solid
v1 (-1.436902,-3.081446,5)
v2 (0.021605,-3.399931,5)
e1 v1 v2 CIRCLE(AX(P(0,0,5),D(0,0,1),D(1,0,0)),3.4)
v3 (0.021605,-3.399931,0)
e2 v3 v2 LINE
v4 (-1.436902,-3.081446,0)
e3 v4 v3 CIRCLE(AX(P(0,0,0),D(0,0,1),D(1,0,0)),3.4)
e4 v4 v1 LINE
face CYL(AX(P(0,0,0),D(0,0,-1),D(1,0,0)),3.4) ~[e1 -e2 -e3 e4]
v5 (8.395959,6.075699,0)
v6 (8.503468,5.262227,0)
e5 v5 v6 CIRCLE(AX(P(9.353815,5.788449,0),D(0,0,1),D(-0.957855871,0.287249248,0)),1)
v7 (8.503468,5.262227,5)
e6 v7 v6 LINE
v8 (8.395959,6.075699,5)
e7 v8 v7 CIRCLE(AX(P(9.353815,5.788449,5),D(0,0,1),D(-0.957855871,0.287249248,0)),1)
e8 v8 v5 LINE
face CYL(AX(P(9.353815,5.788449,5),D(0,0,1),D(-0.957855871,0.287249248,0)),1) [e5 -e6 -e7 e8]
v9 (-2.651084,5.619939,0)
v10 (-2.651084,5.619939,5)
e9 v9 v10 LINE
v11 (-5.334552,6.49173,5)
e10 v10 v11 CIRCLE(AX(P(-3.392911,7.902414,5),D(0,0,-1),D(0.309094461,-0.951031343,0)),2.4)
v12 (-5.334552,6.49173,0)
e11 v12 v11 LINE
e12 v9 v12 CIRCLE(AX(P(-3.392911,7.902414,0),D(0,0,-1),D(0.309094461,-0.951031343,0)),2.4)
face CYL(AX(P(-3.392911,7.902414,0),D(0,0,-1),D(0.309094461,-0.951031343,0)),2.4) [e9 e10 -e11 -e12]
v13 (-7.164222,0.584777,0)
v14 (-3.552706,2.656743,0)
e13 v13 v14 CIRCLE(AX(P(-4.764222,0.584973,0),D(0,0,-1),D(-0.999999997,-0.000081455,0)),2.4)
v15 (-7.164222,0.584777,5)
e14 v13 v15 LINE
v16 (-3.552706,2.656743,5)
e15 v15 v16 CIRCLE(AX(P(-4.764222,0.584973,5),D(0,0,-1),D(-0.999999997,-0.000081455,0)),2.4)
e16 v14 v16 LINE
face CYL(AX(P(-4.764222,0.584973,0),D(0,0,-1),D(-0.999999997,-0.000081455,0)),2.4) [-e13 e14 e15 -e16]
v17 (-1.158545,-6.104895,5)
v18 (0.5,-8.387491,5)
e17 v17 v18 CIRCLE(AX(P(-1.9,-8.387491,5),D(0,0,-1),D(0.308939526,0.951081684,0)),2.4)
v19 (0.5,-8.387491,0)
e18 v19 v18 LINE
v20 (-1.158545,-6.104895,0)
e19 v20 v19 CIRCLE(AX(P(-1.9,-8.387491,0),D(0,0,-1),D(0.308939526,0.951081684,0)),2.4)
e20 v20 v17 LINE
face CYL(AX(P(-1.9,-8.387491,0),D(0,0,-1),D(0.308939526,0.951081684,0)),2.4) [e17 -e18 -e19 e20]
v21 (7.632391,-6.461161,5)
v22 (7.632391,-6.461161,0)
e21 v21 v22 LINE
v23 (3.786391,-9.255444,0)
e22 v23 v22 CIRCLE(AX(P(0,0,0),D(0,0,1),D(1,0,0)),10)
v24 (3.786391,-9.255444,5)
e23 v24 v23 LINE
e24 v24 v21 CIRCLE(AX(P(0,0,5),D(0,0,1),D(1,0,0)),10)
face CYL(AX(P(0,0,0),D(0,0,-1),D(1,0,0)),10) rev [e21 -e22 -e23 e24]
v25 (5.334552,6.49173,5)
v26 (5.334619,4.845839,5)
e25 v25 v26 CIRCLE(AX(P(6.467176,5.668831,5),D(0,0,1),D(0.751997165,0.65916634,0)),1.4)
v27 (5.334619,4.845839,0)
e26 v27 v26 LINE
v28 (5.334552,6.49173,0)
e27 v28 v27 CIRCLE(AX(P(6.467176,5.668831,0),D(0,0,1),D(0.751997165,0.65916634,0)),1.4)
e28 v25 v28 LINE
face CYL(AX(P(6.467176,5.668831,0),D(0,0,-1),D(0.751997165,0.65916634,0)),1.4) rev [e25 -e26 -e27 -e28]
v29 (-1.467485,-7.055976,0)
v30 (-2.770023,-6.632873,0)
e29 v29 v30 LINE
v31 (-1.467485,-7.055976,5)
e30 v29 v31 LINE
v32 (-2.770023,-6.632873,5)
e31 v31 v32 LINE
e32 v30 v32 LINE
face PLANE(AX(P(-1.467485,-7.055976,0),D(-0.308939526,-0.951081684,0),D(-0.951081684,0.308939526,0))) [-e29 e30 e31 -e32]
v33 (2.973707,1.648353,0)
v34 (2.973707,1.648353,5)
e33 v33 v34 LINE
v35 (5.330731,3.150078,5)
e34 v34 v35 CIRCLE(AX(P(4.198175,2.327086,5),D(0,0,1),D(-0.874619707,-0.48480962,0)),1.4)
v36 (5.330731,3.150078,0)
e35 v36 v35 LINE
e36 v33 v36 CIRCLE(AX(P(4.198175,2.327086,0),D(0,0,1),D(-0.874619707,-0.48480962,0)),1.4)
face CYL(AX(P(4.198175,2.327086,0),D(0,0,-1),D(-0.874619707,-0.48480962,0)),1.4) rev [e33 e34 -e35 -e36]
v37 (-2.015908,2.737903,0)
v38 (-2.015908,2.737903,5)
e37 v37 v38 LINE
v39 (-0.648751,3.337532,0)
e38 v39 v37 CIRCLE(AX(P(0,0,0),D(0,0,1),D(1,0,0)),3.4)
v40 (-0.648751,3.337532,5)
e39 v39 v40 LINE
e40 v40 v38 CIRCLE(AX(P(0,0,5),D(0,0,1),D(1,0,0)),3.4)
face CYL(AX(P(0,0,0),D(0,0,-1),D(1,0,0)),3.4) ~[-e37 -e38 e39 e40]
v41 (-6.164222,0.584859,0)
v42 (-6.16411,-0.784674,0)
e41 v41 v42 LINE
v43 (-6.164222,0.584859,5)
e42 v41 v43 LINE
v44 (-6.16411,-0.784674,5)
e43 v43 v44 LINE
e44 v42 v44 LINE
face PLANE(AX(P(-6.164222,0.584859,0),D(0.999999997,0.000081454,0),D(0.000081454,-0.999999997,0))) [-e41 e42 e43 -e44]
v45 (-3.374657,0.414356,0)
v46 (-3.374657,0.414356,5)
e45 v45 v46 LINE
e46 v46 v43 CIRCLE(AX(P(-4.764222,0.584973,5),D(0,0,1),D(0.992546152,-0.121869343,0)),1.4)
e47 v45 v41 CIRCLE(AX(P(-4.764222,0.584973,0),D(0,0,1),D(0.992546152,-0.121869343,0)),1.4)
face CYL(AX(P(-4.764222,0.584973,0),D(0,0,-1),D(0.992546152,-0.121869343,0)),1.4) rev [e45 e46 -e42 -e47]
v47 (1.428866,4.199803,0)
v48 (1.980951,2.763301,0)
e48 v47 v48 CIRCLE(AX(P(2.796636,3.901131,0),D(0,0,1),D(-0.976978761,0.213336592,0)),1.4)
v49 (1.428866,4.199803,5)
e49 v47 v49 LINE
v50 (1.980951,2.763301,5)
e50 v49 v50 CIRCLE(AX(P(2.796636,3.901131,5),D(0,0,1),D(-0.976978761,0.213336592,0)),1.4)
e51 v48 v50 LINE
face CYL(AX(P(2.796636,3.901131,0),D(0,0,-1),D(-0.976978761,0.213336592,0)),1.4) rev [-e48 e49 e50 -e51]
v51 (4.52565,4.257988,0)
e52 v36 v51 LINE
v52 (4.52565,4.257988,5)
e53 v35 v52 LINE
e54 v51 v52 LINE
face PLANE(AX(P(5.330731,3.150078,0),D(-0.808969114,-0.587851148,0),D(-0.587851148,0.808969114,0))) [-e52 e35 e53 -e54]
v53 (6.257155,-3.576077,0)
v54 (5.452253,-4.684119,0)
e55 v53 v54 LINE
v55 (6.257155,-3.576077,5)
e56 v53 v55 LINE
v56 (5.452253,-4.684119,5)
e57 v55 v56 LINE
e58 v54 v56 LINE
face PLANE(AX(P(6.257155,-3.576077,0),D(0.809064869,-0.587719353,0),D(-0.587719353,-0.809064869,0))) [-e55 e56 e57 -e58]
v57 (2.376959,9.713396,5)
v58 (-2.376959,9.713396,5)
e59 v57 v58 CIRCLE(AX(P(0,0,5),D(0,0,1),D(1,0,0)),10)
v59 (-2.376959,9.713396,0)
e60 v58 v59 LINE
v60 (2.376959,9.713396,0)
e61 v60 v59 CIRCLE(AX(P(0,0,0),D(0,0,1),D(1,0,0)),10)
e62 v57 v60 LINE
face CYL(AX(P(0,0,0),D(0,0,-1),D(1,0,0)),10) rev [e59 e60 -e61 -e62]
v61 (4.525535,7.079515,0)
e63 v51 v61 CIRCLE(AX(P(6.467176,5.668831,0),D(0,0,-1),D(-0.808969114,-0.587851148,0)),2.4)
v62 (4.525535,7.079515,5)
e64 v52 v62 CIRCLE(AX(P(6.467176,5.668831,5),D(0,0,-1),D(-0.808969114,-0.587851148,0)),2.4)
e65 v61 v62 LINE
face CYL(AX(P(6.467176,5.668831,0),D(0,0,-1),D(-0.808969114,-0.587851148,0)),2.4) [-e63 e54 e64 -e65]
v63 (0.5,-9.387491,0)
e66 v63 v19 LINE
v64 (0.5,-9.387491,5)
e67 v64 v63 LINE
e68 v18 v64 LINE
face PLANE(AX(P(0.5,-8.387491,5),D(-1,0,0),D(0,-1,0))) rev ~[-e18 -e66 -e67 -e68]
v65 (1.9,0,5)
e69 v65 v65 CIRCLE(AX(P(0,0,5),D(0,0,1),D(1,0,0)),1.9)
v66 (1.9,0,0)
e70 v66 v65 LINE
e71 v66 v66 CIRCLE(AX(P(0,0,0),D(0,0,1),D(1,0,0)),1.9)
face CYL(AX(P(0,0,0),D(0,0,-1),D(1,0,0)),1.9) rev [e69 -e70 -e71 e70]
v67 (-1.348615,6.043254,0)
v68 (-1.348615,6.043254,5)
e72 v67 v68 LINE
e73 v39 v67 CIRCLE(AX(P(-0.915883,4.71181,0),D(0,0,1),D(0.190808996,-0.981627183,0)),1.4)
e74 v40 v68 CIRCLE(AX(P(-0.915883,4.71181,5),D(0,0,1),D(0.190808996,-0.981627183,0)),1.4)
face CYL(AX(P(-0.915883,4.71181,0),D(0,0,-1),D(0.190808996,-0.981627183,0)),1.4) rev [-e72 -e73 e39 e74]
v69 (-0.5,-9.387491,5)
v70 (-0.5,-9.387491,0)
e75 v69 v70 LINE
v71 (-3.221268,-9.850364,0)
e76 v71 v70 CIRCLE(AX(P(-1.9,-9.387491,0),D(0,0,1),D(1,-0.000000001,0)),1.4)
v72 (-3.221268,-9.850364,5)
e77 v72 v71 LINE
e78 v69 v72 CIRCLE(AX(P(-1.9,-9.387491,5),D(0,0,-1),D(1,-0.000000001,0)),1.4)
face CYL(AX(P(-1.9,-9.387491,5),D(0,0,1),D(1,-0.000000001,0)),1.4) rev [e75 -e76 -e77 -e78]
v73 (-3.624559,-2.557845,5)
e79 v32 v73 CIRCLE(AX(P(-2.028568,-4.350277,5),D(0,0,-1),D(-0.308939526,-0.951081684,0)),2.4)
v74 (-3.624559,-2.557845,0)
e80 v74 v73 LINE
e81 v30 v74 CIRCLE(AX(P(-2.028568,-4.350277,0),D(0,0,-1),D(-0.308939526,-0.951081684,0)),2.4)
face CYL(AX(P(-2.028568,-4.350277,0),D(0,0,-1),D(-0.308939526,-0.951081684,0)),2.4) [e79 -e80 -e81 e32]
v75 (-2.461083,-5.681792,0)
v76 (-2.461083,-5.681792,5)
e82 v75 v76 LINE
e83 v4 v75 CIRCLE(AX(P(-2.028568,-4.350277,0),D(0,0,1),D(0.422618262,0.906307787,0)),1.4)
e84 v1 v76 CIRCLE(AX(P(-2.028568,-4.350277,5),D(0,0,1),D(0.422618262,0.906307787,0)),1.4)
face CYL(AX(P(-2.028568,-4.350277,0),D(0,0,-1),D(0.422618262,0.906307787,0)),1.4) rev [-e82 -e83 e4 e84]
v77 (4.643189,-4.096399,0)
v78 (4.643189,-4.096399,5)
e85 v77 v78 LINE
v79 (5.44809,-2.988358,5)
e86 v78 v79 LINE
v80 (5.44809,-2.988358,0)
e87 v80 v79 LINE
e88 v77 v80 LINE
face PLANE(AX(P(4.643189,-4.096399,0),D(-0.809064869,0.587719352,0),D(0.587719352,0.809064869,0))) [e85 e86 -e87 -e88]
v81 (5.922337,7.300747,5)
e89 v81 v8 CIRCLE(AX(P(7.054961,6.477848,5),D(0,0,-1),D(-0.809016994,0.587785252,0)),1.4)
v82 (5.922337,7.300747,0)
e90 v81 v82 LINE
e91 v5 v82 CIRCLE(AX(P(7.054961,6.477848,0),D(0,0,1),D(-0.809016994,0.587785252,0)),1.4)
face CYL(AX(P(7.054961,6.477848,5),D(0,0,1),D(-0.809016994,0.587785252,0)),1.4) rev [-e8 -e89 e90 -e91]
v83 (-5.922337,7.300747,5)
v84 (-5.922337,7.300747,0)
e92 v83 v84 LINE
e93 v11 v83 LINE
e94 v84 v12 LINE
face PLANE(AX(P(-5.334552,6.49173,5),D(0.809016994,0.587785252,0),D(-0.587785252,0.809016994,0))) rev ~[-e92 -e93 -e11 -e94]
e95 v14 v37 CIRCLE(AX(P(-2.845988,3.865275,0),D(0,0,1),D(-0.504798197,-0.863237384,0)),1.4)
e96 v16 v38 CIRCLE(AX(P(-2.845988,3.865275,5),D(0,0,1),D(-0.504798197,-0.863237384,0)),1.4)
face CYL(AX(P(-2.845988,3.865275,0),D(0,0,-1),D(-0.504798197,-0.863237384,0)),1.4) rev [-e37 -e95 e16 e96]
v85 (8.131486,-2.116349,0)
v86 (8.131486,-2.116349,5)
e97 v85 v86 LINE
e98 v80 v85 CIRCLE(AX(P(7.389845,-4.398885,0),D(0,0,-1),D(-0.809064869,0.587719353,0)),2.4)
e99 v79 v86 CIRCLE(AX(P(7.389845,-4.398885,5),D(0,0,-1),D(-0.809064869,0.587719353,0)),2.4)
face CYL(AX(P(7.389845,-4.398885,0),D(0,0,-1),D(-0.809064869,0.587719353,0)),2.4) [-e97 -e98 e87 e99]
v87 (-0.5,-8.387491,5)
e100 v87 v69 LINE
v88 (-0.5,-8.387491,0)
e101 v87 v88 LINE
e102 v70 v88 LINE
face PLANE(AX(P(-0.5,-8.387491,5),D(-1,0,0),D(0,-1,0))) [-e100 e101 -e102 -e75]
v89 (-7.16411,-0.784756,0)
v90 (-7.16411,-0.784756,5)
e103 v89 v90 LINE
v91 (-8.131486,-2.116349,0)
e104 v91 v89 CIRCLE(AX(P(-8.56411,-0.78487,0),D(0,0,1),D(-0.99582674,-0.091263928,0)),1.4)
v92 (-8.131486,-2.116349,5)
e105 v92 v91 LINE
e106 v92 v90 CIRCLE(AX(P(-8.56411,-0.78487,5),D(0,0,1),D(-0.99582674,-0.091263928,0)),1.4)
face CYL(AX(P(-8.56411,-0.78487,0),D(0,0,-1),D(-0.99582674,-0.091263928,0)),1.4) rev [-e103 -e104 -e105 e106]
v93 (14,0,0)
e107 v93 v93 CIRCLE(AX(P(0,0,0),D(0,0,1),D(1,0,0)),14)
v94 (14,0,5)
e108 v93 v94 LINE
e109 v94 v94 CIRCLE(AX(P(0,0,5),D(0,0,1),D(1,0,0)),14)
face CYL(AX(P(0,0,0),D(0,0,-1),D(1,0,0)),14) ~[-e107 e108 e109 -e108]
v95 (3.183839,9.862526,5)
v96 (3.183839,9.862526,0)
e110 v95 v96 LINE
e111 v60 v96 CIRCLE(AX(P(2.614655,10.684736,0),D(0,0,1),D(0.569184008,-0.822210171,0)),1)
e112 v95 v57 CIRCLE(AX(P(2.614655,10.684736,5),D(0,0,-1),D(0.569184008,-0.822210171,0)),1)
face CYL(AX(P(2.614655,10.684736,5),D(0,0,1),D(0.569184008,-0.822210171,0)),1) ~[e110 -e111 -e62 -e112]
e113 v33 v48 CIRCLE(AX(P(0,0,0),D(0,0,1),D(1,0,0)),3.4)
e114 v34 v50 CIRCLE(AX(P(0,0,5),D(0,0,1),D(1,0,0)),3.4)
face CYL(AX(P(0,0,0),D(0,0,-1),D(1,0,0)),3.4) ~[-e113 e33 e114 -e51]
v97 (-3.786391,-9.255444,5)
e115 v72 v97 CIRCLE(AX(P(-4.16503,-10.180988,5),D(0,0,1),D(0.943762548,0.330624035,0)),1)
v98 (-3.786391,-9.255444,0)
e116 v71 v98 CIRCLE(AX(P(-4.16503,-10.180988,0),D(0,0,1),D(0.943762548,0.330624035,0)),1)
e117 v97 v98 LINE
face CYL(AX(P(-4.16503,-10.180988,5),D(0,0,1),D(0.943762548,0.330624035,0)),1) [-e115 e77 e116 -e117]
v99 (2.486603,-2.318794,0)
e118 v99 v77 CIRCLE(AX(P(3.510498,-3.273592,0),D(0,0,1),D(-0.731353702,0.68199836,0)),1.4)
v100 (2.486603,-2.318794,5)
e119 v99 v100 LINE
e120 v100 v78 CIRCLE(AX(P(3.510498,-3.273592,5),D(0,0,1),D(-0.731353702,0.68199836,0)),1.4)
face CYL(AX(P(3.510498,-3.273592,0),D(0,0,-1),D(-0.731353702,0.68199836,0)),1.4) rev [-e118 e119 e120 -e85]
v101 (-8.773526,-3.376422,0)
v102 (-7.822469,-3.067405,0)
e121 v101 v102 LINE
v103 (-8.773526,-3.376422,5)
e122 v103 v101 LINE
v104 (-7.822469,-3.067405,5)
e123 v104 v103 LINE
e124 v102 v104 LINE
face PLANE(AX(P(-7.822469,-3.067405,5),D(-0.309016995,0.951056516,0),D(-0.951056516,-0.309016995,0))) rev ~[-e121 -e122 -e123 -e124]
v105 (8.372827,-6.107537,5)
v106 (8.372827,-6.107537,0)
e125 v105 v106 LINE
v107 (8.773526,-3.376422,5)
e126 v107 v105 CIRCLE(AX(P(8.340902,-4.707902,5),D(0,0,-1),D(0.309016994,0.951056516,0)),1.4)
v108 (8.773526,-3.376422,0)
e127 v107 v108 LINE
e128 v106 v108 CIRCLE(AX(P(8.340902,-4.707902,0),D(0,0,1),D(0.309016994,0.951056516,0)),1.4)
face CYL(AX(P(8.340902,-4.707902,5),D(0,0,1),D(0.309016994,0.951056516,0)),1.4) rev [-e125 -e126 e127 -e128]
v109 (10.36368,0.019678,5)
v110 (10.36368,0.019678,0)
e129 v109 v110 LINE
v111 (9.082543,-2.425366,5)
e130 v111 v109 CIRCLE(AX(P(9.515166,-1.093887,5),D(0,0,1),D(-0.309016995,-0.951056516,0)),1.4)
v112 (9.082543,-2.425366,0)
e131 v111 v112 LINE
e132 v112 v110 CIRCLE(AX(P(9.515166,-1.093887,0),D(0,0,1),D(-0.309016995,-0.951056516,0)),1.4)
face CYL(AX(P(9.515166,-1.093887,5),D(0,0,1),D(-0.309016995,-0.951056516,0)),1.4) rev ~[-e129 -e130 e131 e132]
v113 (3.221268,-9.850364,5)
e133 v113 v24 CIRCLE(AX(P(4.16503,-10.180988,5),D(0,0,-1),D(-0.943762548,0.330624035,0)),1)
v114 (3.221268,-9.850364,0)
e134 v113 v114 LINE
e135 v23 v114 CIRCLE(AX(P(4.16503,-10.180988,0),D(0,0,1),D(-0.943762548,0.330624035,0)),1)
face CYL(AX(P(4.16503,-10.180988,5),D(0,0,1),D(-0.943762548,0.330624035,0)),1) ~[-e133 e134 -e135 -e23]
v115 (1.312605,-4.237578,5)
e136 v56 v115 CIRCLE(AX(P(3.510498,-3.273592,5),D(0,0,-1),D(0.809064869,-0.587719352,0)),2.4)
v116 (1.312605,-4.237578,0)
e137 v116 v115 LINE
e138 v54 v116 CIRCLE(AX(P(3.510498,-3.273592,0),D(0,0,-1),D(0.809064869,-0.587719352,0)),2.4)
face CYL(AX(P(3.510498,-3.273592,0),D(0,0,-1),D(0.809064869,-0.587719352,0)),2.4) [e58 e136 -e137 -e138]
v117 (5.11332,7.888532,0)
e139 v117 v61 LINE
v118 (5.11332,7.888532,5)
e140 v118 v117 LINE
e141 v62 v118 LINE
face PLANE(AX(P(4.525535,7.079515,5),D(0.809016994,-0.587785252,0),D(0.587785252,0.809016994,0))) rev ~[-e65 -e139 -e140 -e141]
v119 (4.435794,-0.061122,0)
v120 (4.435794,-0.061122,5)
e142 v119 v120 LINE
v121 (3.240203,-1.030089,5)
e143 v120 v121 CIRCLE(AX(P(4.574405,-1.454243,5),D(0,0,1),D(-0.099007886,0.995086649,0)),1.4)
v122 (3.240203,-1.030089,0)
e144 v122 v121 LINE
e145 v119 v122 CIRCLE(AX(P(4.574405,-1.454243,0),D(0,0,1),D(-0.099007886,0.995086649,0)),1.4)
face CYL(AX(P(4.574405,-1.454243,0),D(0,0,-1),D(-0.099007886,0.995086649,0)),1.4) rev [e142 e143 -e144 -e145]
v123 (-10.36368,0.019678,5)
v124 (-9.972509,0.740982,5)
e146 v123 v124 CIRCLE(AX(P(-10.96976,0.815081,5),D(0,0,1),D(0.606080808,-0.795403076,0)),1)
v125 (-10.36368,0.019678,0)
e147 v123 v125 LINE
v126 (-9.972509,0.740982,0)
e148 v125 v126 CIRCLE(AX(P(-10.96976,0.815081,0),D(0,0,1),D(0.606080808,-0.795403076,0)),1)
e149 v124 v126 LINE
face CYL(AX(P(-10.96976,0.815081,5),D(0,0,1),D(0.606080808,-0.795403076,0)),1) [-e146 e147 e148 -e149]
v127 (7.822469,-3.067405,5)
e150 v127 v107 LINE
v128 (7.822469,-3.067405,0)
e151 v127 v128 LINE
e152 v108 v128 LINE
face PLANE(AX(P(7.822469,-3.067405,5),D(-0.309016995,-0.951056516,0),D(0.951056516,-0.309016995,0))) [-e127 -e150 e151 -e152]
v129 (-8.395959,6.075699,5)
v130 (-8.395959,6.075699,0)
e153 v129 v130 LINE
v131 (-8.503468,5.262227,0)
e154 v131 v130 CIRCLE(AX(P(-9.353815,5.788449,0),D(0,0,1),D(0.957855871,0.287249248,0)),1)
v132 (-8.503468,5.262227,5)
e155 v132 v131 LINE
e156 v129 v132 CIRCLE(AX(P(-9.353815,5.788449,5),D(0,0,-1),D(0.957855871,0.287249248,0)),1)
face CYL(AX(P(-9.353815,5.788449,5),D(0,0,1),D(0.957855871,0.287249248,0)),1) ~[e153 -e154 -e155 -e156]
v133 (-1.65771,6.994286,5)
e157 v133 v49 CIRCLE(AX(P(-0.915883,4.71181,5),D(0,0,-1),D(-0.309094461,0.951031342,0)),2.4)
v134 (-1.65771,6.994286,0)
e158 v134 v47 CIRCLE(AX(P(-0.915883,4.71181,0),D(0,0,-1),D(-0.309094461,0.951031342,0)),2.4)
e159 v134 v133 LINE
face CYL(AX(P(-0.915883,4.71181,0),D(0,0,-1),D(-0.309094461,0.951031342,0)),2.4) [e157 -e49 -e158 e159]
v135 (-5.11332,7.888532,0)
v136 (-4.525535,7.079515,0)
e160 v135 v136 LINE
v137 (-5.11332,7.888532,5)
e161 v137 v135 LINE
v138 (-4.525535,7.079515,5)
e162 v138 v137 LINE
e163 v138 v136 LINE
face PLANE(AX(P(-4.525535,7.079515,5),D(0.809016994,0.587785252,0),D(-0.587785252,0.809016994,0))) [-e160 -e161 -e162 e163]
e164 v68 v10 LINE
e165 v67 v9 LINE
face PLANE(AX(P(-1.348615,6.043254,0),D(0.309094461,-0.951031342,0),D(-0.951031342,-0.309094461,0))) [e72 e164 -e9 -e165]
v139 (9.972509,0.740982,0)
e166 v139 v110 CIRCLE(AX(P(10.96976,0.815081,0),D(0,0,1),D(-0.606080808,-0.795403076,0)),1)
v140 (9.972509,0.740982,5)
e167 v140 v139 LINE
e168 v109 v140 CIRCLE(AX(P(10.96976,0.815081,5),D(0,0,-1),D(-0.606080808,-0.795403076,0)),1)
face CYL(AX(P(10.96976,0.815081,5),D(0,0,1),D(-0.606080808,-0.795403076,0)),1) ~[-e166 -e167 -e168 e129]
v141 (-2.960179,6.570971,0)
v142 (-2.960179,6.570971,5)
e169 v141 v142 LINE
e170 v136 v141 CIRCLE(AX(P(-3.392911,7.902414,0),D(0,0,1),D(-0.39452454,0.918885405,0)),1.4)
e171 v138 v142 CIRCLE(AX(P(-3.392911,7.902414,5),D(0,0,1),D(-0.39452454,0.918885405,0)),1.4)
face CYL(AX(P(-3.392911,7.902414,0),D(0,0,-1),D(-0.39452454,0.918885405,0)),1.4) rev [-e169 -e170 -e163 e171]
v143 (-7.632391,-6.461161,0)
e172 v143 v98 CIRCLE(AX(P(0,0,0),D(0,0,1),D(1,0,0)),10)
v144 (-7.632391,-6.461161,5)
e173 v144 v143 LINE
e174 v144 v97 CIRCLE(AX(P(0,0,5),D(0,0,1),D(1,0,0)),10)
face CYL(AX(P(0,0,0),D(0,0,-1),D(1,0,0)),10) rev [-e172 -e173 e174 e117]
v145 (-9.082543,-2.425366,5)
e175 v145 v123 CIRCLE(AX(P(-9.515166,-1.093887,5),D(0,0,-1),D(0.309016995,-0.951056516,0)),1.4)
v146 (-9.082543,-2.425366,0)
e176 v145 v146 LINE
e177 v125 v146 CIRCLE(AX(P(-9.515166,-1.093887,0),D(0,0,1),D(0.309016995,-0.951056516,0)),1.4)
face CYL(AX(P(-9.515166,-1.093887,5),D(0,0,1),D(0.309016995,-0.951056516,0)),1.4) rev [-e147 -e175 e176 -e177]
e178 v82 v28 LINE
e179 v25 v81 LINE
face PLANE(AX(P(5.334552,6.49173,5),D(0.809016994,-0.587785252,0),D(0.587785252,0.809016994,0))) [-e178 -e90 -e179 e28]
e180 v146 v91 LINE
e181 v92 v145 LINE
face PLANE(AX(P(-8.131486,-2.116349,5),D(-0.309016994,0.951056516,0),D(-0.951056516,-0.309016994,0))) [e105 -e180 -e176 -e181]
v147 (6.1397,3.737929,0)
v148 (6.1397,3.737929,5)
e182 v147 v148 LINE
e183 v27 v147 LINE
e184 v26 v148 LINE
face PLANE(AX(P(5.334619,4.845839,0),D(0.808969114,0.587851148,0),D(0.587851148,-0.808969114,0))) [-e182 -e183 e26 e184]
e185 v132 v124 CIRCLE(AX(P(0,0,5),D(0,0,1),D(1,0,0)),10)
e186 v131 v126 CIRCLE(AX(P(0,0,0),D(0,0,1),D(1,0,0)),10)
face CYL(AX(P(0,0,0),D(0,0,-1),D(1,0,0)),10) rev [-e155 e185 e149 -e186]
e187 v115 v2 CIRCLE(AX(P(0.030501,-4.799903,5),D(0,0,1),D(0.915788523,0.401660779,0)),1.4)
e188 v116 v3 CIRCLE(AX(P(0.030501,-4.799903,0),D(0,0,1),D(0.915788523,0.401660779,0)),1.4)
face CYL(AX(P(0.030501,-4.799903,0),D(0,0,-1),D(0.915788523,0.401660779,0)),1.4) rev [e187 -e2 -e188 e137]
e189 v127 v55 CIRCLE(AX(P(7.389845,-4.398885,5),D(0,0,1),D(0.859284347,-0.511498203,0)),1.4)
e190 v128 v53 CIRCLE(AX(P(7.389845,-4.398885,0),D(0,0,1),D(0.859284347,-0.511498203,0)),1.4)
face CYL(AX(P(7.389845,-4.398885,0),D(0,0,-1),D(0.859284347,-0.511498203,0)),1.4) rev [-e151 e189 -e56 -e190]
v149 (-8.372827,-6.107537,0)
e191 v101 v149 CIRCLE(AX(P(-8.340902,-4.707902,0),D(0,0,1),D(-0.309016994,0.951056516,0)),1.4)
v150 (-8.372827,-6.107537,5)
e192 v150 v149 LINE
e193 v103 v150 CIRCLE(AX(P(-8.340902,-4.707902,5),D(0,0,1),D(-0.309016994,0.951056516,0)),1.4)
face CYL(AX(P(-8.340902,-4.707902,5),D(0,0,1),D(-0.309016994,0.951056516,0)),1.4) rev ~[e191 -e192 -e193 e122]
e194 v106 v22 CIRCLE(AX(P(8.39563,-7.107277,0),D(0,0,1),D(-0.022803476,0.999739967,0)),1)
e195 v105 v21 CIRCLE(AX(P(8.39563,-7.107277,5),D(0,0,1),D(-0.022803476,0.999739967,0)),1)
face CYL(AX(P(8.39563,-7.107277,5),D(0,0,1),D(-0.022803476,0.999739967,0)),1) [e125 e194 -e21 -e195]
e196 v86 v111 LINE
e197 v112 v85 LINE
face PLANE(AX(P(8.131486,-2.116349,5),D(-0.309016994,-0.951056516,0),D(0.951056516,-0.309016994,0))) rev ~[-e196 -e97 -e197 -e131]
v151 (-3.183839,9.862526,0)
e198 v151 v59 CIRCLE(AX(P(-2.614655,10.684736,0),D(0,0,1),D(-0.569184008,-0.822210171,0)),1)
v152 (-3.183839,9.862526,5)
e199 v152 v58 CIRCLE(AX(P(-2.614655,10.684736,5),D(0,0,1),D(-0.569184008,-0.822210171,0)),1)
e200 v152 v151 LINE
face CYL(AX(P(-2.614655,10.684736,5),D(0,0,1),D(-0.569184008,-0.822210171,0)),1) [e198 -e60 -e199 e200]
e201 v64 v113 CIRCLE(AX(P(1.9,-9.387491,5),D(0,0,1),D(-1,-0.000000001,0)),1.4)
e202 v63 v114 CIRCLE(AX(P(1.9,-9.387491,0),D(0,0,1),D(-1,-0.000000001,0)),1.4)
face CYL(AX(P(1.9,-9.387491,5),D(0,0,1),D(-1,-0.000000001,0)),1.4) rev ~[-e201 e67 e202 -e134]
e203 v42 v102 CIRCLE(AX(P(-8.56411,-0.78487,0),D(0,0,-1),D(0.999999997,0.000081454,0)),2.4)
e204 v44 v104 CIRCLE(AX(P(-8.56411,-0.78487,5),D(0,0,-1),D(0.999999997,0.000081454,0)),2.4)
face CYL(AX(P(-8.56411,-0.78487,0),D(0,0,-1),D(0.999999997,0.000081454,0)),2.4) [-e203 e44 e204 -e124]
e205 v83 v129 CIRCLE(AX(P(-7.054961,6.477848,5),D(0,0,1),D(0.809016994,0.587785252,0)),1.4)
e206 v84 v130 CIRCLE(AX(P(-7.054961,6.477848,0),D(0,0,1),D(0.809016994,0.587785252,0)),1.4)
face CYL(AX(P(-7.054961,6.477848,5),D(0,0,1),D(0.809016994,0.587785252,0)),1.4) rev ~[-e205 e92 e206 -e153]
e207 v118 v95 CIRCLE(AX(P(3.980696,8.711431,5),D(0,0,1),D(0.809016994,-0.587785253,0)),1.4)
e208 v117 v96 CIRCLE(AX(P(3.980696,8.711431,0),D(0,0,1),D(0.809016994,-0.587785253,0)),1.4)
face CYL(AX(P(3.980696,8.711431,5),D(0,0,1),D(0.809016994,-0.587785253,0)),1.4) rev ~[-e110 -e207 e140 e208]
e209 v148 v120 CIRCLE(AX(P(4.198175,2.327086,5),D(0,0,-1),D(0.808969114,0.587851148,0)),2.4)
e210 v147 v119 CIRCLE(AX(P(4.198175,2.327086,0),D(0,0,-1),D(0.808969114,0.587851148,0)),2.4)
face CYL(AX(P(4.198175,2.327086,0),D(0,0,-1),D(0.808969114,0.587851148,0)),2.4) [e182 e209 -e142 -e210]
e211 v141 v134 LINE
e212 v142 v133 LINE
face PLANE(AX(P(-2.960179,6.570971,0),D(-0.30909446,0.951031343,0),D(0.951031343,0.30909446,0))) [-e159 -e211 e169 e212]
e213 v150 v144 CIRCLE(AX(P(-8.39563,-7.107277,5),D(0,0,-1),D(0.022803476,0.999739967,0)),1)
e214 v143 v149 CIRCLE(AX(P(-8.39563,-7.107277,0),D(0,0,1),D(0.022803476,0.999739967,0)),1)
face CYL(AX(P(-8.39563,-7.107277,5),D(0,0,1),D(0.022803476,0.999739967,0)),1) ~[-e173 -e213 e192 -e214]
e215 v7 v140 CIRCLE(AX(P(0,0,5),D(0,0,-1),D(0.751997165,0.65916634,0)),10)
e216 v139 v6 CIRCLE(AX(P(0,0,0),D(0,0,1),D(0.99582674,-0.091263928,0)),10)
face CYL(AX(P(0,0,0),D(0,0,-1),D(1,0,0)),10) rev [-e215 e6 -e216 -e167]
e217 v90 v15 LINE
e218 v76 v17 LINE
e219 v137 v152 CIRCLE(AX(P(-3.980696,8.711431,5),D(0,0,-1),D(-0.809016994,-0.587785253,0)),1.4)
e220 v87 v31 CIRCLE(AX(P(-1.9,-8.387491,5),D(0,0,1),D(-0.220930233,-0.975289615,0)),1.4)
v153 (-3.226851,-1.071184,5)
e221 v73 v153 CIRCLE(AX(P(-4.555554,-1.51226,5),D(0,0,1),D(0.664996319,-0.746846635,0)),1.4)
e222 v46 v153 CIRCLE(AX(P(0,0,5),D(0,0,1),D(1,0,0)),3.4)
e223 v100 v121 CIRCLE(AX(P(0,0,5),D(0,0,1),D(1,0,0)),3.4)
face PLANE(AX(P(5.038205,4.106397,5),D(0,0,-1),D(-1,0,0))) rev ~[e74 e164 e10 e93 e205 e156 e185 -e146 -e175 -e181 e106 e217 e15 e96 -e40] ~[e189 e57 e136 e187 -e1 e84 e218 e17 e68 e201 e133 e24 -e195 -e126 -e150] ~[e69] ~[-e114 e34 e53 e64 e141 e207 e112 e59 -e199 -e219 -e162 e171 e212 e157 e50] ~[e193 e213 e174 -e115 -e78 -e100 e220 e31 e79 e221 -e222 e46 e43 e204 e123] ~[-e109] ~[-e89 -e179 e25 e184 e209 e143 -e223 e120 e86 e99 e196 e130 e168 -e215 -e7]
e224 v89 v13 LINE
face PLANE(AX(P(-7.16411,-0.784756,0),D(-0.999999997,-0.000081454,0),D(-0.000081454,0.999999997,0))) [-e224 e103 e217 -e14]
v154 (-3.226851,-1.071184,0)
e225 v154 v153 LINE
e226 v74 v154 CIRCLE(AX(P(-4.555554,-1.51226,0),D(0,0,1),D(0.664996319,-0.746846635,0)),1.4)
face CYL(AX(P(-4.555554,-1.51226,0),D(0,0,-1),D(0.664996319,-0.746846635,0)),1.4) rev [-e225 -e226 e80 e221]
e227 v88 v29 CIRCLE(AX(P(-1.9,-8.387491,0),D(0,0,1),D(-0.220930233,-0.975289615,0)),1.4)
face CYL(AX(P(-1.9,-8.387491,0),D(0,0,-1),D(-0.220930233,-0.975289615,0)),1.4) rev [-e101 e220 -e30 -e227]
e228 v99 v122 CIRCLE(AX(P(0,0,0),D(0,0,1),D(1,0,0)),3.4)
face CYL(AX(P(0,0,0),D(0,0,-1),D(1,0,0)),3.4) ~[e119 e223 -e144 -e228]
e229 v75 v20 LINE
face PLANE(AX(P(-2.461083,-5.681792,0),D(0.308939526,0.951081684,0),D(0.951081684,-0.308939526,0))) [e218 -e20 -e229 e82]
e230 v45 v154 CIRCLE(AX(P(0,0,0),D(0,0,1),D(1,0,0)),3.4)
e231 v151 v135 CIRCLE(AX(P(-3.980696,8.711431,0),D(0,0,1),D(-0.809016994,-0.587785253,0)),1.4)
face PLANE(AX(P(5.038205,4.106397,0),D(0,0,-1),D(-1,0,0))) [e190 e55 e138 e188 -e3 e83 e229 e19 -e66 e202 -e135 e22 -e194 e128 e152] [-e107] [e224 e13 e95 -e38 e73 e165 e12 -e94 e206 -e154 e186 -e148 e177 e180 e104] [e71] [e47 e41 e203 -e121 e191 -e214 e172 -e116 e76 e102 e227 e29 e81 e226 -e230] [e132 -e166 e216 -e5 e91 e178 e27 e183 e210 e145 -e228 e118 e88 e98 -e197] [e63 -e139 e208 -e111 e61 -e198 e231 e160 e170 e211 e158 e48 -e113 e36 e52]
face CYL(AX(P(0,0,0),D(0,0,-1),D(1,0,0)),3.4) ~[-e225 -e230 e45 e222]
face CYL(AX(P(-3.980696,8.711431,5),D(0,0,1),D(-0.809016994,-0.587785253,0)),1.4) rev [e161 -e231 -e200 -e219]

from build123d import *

# Parameters (mm, degrees)
SKETCH1_R             = 3.4
SKETCH1_R_2           = 1.9
BOSS_EXTRUDE1_DEPTH   = 5
SKETCH1_R_3           = 14
SKETCH1_R_4           = 10
BOSS_EXTRUDE1_2_DEPTH = 5
BOSS_EXTRUDE3_START   = -5
BOSS_EXTRUDE3_DEPTH   = 5
CUT_EXTRUDE1_DEPTH    = 21.420577857


with BuildPart() as part:
    # Sketch1 → Boss-Extrude1 (new body)
    with BuildSketch(Plane.XY):
        Circle(SKETCH1_R)
        Circle(SKETCH1_R_2, mode=Mode.SUBTRACT)
    extrude(amount=BOSS_EXTRUDE1_DEPTH)



with BuildPart() as body_2:
    # Sketch1 → Boss-Extrude1 2 (new body)
    with BuildSketch(Plane.XY):
        Circle(SKETCH1_R_3)
        Circle(SKETCH1_R_4, mode=Mode.SUBTRACT)
    extrude(amount=BOSS_EXTRUDE1_2_DEPTH)


with BuildPart() as part_1:
    add(part.part)

    add(body_2.part)  # Boss-Extrude3 merges body 2
    # Sketch3 → Boss-Extrude3 (add)
    with BuildSketch(Plane.XY.offset(5).offset(BOSS_EXTRUDE3_START)):
        with BuildLine():
            Line((-2.461082993, -5.681791735), (-1.158545138, -6.104894644))
            ThreePointArc((-1.158545138, -6.104894644), (0.041583332, -6.976727004), (0.5, -8.387490686))
            ThreePointArc((0.5, -8.387490686), (1.026221783, -9.481342425), (2.209302326, -9.752896146))
            ThreePointArc((2.209302326, -9.752896146), (0, -10), (-2.209302326, -9.752896146))
            ThreePointArc((-2.209302326, -9.752896146), (-0.55013353, -8.758786407), (-1.467484664, -7.055976328))
            Line((-1.467484664, -7.055976328), (-2.770022518, -6.632873419))
            ThreePointArc((-2.770022518, -6.632873419), (-4.377477342, -4.842845432), (-3.62455882, -2.557845453))
            ThreePointArc((-3.62455882, -2.557845453), (-3.203111756, -1.874062431), (-3.226850513, -1.071184282))
            ThreePointArc((-3.226850513, -1.071184282), (-2.53927856, -2.260987482), (-1.43690209, -3.081446476))
            ThreePointArc((-1.43690209, -3.081446476), (-3.331173148, -3.837228711), (-2.461082993, -5.681791735))
        make_face()
        with BuildLine():
            Line((-6.164221523, 0.584858813), (-6.164109969, -0.784674291))
            ThreePointArc((-6.164109969, -0.784674291), (-6.622411723, -2.195475308), (-7.822469175, -3.06740542))
            ThreePointArc((-7.822469175, -3.06740542), (-8.700172525, -3.905890853), (-8.592843468, -5.114982027))
            ThreePointArc((-8.592843468, -5.114982027), (-9.510565163, -3.090169944), (-9.958267397, -0.91263928))
            ThreePointArc((-9.958267397, -0.91263928), (-8.500101497, -2.183405771), (-7.164109966, -0.784755745))
            Line((-7.164109966, -0.784755745), (-7.16422152, 0.584777358))
            ThreePointArc((-7.16422152, 0.584777358), (-5.958534597, 2.666706812), (-3.552705858, 2.656742571))
            ThreePointArc((-3.552705858, 2.656742571), (-2.772155254, 2.467223168), (-2.015908439, 2.73790306))
            ThreePointArc((-2.015908439, 2.73790306), (-2.935007106, 1.716313866), (-3.374656916, 0.414355768))
            ThreePointArc((-3.374656916, 0.414355768), (-4.678810484, 1.982365046), (-6.164221523, 0.584858813))
        make_face()
        with BuildLine():
            Line((-1.348615423, 6.04325436), (-2.651084333, 5.619939262))
            ThreePointArc((-2.651084333, 5.619939262), (-4.134458864, 5.619848642), (-5.334551826, 6.491729879))
            ThreePointArc((-5.334551826, 6.491729879), (-6.403224112, 7.067369122), (-7.519971649, 6.591663402))
            ThreePointArc((-7.519971649, 6.591663402), (-5.877852523, 8.090169944), (-3.945245395, 9.188854051))
            ThreePointArc((-3.945245395, 9.188854051), (-4.703218103, 7.409367429), (-2.960178794, 6.570970605))
            Line((-2.960178794, 6.570970605), (-1.657709884, 6.994285702))
            ThreePointArc((-1.657709884, 6.994285702), (0.694900438, 6.490960879), (1.428865848, 4.199802661))
            ThreePointArc((1.428865848, 4.199802661), (1.489825587, 3.398890206), (1.98095058, 2.763301431))
            ThreePointArc((1.98095058, 2.763301431), (0.725344411, 3.321727786), (-0.648750584, 3.337532424))
            ThreePointArc((-0.648750584, 3.337532424), (0.439509241, 5.062397688), (-1.348615423, 6.04325436))
        make_face()
        with BuildLine():
            Line((5.330731354, 3.150077785), (4.525649744, 4.25798777))
            ThreePointArc((4.525649744, 4.25798777), (4.06717562, 5.66873278), (4.525534832, 7.079515131))
            ThreePointArc((4.525534832, 7.079515131), (4.742762387, 8.273765181), (3.945245395, 9.188854051))
            ThreePointArc((3.945245395, 9.188854051), (5.877852523, 8.090169944), (7.519971649, 6.591663402))
            ThreePointArc((7.519971649, 6.591663402), (5.593352853, 6.762646678), (5.334618858, 4.845838918))
            Line((5.334618858, 4.845838918), (6.139700468, 3.737928933))
            ThreePointArc((6.139700468, 3.737928933), (6.388006686, 1.344927632), (4.435793517, -0.06112178))
            ThreePointArc((4.435793517, -0.06112178), (3.692918104, -0.366593497), (3.240203227, -1.030088854))
            ThreePointArc((3.240203227, -1.030088854), (3.383294606, 0.336626808), (2.973707004, 1.648352709))
            ThreePointArc((2.973707004, 1.648352709), (4.950442134, 1.14636879), (5.330731354, 3.150077785))
        make_face()
        with BuildLine():
            Line((4.643188585, -4.096399222), (5.448089696, -2.988358097))
            ThreePointArc((5.448089696, -2.988358097), (6.648111636, -2.116379111), (8.131486169, -2.116348904))
            ThreePointArc((8.131486169, -2.116348904), (9.334412468, -1.953901025), (9.958267397, -0.91263928))
            ThreePointArc((9.958267397, -0.91263928), (9.510565163, -3.090169944), (8.592843468, -5.114982027))
            ThreePointArc((8.592843468, -5.114982027), (8.160100277, -3.229821928), (6.257154566, -3.576077449))
            Line((6.257154566, -3.576077449), (5.452253454, -4.684118574))
            ThreePointArc((5.452253454, -4.684118574), (3.253104814, -5.659749891), (1.312605313, -4.237577998))
            ThreePointArc((1.312605313, -4.237577998), (0.792523319, -3.625457447), (0.021605145, -3.399931355))
            ThreePointArc((0.021605145, -3.399931355), (1.365646649, -3.113680977), (2.486602586, -2.318794424))
            ThreePointArc((2.486602586, -2.318794424), (2.620032257, -4.353902812), (4.643188585, -4.096399222))
        make_face()
    extrude(amount=BOSS_EXTRUDE3_DEPTH)

    # Sketch4 → Cut-Extrude1 (cut, through all)
    with BuildSketch(Plane.XY.offset(5)):
        with BuildLine():
            Line((0.5, -8.387490686), (0.5, -9.387490686))
            ThreePointArc((0.5, -9.387490686), (1.665239053, -10.767667231), (3.221267568, -9.850364333))
            ThreePointArc((3.221267568, -9.850364333), (3.43999971, -9.49227151), (3.786391015, -9.25544397))
            ThreePointArc((3.786391015, -9.25544397), (3.008147158, -9.536826027), (2.209302326, -9.752896146))
            ThreePointArc((2.209302326, -9.752896146), (1.026221783, -9.481342425), (0.5, -8.387490686))
        make_face()
        with BuildLine():
            Line((-0.5, -8.387490686), (-0.5, -9.387490686))
            ThreePointArc((-0.5, -9.387490686), (-1.665239053, -10.767667231), (-3.221267568, -9.850364333))
            ThreePointArc((-3.221267568, -9.850364333), (-3.43999971, -9.49227151), (-3.786391015, -9.25544397))
            ThreePointArc((-3.786391015, -9.25544397), (-3.008147158, -9.536826027), (-2.209302326, -9.752896146))
            ThreePointArc((-2.209302326, -9.752896146), (-1.026221783, -9.481342425), (-0.5, -8.387490686))
        make_face()
        with BuildLine():
            Line((-7.822469175, -3.06740542), (-8.773525691, -3.376422415))
            ThreePointArc((-8.773525691, -3.376422415), (-9.726072919, -4.911128617), (-8.372826765, -6.107537491))
            ThreePointArc((-8.372826765, -6.107537491), (-7.964668303, -6.204907352), (-7.632391128, -6.461161325))
            ThreePointArc((-7.632391128, -6.461161325), (-8.140491944, -5.807959272), (-8.592843468, -5.114982027))
            ThreePointArc((-8.592843468, -5.114982027), (-8.700172525, -3.905890853), (-7.822469175, -3.06740542))
        make_face()
        with BuildLine():
            Line((-8.131486169, -2.116348904), (-9.082542685, -2.425365898))
            ThreePointArc((-9.082542685, -2.425365898), (-10.755247253, -1.743655712), (-10.363679609, 0.019677532))
            ThreePointArc((-10.363679609, 0.019677532), (-10.090705045, 0.338360929), (-9.97250947, 0.740982371))
            ThreePointArc((-9.97250947, 0.740982371), (-9.999629131, -0.086123358), (-9.958267397, -0.91263928))
            ThreePointArc((-9.958267397, -0.91263928), (-9.334412468, -1.953901025), (-8.131486169, -2.116348904))
        make_face()
        with BuildLine():
            Line((-5.334551826, 6.491729879), (-5.922337078, 7.300746873))
            ThreePointArc((-5.922337078, 7.300746873), (-7.676282694, 7.732422823), (-8.395959091, 6.075698576))
            ThreePointArc((-8.395959091, 6.075698576), (-8.36243543, 5.657427869), (-8.503468148, 5.262226664))
            ThreePointArc((-8.503468148, 5.262226664), (-8.039247865, 5.947309792), (-7.519971649, 6.591663402))
            ThreePointArc((-7.519971649, 6.591663402), (-6.403224112, 7.067369122), (-5.334551826, 6.491729879))
        make_face()
        with BuildLine():
            Line((-4.525534832, 7.079515131), (-5.113320084, 7.888532125))
            ThreePointArc((-5.113320084, 7.888532125), (-4.981869307, 9.690028737), (-3.183838679, 9.862525716))
            ThreePointArc((-3.183838679, 9.862525716), (-2.796398978, 9.701390064), (-2.37695879, 9.71339626))
            ThreePointArc((-2.37695879, 9.71339626), (-3.17196352, 9.483598865), (-3.945245395, 9.188854051))
            ThreePointArc((-3.945245395, 9.188854051), (-4.742762387, 8.273765181), (-4.525534832, 7.079515131))
        make_face()
        with BuildLine():
            Line((4.525534832, 7.079515131), (5.113320084, 7.888532125))
            ThreePointArc((5.113320084, 7.888532125), (4.981869307, 9.690028737), (3.183838679, 9.862525716))
            ThreePointArc((3.183838679, 9.862525716), (2.796398978, 9.701390064), (2.37695879, 9.71339626))
            ThreePointArc((2.37695879, 9.71339626), (3.17196352, 9.483598865), (3.945245395, 9.188854051))
            ThreePointArc((3.945245395, 9.188854051), (4.742762387, 8.273765181), (4.525534832, 7.079515131))
        make_face()
        with BuildLine():
            Line((5.334551826, 6.491729879), (5.922337078, 7.300746873))
            ThreePointArc((5.922337078, 7.300746873), (7.676282694, 7.732422823), (8.395959091, 6.075698576))
            ThreePointArc((8.395959091, 6.075698576), (8.36243543, 5.657427869), (8.503468148, 5.262226664))
            ThreePointArc((8.503468148, 5.262226664), (8.039247865, 5.947309792), (7.519971649, 6.591663402))
            ThreePointArc((7.519971649, 6.591663402), (6.403224112, 7.067369122), (5.334551826, 6.491729879))
        make_face()
        with BuildLine():
            Line((8.131486169, -2.116348904), (9.082542685, -2.425365898))
            ThreePointArc((9.082542685, -2.425365898), (10.755247253, -1.743655712), (10.363679609, 0.019677532))
            ThreePointArc((10.363679609, 0.019677532), (10.090705045, 0.338360929), (9.97250947, 0.740982371))
            ThreePointArc((9.97250947, 0.740982371), (9.999629131, -0.086123358), (9.958267397, -0.91263928))
            ThreePointArc((9.958267397, -0.91263928), (9.334412468, -1.953901025), (8.131486169, -2.116348904))
        make_face()
        with BuildLine():
            Line((7.822469175, -3.06740542), (8.773525691, -3.376422415))
            ThreePointArc((8.773525691, -3.376422415), (9.726072919, -4.911128617), (8.372826765, -6.107537491))
            ThreePointArc((8.372826765, -6.107537491), (7.964668303, -6.204907352), (7.632391128, -6.461161325))
            ThreePointArc((7.632391128, -6.461161325), (8.140491944, -5.807959272), (8.592843468, -5.114982027))
            ThreePointArc((8.592843468, -5.114982027), (8.700172525, -3.905890853), (7.822469175, -3.06740542))
        make_face()
    extrude(amount=-CUT_EXTRUDE1_DEPTH, mode=Mode.SUBTRACT)


solid = part_1.part
